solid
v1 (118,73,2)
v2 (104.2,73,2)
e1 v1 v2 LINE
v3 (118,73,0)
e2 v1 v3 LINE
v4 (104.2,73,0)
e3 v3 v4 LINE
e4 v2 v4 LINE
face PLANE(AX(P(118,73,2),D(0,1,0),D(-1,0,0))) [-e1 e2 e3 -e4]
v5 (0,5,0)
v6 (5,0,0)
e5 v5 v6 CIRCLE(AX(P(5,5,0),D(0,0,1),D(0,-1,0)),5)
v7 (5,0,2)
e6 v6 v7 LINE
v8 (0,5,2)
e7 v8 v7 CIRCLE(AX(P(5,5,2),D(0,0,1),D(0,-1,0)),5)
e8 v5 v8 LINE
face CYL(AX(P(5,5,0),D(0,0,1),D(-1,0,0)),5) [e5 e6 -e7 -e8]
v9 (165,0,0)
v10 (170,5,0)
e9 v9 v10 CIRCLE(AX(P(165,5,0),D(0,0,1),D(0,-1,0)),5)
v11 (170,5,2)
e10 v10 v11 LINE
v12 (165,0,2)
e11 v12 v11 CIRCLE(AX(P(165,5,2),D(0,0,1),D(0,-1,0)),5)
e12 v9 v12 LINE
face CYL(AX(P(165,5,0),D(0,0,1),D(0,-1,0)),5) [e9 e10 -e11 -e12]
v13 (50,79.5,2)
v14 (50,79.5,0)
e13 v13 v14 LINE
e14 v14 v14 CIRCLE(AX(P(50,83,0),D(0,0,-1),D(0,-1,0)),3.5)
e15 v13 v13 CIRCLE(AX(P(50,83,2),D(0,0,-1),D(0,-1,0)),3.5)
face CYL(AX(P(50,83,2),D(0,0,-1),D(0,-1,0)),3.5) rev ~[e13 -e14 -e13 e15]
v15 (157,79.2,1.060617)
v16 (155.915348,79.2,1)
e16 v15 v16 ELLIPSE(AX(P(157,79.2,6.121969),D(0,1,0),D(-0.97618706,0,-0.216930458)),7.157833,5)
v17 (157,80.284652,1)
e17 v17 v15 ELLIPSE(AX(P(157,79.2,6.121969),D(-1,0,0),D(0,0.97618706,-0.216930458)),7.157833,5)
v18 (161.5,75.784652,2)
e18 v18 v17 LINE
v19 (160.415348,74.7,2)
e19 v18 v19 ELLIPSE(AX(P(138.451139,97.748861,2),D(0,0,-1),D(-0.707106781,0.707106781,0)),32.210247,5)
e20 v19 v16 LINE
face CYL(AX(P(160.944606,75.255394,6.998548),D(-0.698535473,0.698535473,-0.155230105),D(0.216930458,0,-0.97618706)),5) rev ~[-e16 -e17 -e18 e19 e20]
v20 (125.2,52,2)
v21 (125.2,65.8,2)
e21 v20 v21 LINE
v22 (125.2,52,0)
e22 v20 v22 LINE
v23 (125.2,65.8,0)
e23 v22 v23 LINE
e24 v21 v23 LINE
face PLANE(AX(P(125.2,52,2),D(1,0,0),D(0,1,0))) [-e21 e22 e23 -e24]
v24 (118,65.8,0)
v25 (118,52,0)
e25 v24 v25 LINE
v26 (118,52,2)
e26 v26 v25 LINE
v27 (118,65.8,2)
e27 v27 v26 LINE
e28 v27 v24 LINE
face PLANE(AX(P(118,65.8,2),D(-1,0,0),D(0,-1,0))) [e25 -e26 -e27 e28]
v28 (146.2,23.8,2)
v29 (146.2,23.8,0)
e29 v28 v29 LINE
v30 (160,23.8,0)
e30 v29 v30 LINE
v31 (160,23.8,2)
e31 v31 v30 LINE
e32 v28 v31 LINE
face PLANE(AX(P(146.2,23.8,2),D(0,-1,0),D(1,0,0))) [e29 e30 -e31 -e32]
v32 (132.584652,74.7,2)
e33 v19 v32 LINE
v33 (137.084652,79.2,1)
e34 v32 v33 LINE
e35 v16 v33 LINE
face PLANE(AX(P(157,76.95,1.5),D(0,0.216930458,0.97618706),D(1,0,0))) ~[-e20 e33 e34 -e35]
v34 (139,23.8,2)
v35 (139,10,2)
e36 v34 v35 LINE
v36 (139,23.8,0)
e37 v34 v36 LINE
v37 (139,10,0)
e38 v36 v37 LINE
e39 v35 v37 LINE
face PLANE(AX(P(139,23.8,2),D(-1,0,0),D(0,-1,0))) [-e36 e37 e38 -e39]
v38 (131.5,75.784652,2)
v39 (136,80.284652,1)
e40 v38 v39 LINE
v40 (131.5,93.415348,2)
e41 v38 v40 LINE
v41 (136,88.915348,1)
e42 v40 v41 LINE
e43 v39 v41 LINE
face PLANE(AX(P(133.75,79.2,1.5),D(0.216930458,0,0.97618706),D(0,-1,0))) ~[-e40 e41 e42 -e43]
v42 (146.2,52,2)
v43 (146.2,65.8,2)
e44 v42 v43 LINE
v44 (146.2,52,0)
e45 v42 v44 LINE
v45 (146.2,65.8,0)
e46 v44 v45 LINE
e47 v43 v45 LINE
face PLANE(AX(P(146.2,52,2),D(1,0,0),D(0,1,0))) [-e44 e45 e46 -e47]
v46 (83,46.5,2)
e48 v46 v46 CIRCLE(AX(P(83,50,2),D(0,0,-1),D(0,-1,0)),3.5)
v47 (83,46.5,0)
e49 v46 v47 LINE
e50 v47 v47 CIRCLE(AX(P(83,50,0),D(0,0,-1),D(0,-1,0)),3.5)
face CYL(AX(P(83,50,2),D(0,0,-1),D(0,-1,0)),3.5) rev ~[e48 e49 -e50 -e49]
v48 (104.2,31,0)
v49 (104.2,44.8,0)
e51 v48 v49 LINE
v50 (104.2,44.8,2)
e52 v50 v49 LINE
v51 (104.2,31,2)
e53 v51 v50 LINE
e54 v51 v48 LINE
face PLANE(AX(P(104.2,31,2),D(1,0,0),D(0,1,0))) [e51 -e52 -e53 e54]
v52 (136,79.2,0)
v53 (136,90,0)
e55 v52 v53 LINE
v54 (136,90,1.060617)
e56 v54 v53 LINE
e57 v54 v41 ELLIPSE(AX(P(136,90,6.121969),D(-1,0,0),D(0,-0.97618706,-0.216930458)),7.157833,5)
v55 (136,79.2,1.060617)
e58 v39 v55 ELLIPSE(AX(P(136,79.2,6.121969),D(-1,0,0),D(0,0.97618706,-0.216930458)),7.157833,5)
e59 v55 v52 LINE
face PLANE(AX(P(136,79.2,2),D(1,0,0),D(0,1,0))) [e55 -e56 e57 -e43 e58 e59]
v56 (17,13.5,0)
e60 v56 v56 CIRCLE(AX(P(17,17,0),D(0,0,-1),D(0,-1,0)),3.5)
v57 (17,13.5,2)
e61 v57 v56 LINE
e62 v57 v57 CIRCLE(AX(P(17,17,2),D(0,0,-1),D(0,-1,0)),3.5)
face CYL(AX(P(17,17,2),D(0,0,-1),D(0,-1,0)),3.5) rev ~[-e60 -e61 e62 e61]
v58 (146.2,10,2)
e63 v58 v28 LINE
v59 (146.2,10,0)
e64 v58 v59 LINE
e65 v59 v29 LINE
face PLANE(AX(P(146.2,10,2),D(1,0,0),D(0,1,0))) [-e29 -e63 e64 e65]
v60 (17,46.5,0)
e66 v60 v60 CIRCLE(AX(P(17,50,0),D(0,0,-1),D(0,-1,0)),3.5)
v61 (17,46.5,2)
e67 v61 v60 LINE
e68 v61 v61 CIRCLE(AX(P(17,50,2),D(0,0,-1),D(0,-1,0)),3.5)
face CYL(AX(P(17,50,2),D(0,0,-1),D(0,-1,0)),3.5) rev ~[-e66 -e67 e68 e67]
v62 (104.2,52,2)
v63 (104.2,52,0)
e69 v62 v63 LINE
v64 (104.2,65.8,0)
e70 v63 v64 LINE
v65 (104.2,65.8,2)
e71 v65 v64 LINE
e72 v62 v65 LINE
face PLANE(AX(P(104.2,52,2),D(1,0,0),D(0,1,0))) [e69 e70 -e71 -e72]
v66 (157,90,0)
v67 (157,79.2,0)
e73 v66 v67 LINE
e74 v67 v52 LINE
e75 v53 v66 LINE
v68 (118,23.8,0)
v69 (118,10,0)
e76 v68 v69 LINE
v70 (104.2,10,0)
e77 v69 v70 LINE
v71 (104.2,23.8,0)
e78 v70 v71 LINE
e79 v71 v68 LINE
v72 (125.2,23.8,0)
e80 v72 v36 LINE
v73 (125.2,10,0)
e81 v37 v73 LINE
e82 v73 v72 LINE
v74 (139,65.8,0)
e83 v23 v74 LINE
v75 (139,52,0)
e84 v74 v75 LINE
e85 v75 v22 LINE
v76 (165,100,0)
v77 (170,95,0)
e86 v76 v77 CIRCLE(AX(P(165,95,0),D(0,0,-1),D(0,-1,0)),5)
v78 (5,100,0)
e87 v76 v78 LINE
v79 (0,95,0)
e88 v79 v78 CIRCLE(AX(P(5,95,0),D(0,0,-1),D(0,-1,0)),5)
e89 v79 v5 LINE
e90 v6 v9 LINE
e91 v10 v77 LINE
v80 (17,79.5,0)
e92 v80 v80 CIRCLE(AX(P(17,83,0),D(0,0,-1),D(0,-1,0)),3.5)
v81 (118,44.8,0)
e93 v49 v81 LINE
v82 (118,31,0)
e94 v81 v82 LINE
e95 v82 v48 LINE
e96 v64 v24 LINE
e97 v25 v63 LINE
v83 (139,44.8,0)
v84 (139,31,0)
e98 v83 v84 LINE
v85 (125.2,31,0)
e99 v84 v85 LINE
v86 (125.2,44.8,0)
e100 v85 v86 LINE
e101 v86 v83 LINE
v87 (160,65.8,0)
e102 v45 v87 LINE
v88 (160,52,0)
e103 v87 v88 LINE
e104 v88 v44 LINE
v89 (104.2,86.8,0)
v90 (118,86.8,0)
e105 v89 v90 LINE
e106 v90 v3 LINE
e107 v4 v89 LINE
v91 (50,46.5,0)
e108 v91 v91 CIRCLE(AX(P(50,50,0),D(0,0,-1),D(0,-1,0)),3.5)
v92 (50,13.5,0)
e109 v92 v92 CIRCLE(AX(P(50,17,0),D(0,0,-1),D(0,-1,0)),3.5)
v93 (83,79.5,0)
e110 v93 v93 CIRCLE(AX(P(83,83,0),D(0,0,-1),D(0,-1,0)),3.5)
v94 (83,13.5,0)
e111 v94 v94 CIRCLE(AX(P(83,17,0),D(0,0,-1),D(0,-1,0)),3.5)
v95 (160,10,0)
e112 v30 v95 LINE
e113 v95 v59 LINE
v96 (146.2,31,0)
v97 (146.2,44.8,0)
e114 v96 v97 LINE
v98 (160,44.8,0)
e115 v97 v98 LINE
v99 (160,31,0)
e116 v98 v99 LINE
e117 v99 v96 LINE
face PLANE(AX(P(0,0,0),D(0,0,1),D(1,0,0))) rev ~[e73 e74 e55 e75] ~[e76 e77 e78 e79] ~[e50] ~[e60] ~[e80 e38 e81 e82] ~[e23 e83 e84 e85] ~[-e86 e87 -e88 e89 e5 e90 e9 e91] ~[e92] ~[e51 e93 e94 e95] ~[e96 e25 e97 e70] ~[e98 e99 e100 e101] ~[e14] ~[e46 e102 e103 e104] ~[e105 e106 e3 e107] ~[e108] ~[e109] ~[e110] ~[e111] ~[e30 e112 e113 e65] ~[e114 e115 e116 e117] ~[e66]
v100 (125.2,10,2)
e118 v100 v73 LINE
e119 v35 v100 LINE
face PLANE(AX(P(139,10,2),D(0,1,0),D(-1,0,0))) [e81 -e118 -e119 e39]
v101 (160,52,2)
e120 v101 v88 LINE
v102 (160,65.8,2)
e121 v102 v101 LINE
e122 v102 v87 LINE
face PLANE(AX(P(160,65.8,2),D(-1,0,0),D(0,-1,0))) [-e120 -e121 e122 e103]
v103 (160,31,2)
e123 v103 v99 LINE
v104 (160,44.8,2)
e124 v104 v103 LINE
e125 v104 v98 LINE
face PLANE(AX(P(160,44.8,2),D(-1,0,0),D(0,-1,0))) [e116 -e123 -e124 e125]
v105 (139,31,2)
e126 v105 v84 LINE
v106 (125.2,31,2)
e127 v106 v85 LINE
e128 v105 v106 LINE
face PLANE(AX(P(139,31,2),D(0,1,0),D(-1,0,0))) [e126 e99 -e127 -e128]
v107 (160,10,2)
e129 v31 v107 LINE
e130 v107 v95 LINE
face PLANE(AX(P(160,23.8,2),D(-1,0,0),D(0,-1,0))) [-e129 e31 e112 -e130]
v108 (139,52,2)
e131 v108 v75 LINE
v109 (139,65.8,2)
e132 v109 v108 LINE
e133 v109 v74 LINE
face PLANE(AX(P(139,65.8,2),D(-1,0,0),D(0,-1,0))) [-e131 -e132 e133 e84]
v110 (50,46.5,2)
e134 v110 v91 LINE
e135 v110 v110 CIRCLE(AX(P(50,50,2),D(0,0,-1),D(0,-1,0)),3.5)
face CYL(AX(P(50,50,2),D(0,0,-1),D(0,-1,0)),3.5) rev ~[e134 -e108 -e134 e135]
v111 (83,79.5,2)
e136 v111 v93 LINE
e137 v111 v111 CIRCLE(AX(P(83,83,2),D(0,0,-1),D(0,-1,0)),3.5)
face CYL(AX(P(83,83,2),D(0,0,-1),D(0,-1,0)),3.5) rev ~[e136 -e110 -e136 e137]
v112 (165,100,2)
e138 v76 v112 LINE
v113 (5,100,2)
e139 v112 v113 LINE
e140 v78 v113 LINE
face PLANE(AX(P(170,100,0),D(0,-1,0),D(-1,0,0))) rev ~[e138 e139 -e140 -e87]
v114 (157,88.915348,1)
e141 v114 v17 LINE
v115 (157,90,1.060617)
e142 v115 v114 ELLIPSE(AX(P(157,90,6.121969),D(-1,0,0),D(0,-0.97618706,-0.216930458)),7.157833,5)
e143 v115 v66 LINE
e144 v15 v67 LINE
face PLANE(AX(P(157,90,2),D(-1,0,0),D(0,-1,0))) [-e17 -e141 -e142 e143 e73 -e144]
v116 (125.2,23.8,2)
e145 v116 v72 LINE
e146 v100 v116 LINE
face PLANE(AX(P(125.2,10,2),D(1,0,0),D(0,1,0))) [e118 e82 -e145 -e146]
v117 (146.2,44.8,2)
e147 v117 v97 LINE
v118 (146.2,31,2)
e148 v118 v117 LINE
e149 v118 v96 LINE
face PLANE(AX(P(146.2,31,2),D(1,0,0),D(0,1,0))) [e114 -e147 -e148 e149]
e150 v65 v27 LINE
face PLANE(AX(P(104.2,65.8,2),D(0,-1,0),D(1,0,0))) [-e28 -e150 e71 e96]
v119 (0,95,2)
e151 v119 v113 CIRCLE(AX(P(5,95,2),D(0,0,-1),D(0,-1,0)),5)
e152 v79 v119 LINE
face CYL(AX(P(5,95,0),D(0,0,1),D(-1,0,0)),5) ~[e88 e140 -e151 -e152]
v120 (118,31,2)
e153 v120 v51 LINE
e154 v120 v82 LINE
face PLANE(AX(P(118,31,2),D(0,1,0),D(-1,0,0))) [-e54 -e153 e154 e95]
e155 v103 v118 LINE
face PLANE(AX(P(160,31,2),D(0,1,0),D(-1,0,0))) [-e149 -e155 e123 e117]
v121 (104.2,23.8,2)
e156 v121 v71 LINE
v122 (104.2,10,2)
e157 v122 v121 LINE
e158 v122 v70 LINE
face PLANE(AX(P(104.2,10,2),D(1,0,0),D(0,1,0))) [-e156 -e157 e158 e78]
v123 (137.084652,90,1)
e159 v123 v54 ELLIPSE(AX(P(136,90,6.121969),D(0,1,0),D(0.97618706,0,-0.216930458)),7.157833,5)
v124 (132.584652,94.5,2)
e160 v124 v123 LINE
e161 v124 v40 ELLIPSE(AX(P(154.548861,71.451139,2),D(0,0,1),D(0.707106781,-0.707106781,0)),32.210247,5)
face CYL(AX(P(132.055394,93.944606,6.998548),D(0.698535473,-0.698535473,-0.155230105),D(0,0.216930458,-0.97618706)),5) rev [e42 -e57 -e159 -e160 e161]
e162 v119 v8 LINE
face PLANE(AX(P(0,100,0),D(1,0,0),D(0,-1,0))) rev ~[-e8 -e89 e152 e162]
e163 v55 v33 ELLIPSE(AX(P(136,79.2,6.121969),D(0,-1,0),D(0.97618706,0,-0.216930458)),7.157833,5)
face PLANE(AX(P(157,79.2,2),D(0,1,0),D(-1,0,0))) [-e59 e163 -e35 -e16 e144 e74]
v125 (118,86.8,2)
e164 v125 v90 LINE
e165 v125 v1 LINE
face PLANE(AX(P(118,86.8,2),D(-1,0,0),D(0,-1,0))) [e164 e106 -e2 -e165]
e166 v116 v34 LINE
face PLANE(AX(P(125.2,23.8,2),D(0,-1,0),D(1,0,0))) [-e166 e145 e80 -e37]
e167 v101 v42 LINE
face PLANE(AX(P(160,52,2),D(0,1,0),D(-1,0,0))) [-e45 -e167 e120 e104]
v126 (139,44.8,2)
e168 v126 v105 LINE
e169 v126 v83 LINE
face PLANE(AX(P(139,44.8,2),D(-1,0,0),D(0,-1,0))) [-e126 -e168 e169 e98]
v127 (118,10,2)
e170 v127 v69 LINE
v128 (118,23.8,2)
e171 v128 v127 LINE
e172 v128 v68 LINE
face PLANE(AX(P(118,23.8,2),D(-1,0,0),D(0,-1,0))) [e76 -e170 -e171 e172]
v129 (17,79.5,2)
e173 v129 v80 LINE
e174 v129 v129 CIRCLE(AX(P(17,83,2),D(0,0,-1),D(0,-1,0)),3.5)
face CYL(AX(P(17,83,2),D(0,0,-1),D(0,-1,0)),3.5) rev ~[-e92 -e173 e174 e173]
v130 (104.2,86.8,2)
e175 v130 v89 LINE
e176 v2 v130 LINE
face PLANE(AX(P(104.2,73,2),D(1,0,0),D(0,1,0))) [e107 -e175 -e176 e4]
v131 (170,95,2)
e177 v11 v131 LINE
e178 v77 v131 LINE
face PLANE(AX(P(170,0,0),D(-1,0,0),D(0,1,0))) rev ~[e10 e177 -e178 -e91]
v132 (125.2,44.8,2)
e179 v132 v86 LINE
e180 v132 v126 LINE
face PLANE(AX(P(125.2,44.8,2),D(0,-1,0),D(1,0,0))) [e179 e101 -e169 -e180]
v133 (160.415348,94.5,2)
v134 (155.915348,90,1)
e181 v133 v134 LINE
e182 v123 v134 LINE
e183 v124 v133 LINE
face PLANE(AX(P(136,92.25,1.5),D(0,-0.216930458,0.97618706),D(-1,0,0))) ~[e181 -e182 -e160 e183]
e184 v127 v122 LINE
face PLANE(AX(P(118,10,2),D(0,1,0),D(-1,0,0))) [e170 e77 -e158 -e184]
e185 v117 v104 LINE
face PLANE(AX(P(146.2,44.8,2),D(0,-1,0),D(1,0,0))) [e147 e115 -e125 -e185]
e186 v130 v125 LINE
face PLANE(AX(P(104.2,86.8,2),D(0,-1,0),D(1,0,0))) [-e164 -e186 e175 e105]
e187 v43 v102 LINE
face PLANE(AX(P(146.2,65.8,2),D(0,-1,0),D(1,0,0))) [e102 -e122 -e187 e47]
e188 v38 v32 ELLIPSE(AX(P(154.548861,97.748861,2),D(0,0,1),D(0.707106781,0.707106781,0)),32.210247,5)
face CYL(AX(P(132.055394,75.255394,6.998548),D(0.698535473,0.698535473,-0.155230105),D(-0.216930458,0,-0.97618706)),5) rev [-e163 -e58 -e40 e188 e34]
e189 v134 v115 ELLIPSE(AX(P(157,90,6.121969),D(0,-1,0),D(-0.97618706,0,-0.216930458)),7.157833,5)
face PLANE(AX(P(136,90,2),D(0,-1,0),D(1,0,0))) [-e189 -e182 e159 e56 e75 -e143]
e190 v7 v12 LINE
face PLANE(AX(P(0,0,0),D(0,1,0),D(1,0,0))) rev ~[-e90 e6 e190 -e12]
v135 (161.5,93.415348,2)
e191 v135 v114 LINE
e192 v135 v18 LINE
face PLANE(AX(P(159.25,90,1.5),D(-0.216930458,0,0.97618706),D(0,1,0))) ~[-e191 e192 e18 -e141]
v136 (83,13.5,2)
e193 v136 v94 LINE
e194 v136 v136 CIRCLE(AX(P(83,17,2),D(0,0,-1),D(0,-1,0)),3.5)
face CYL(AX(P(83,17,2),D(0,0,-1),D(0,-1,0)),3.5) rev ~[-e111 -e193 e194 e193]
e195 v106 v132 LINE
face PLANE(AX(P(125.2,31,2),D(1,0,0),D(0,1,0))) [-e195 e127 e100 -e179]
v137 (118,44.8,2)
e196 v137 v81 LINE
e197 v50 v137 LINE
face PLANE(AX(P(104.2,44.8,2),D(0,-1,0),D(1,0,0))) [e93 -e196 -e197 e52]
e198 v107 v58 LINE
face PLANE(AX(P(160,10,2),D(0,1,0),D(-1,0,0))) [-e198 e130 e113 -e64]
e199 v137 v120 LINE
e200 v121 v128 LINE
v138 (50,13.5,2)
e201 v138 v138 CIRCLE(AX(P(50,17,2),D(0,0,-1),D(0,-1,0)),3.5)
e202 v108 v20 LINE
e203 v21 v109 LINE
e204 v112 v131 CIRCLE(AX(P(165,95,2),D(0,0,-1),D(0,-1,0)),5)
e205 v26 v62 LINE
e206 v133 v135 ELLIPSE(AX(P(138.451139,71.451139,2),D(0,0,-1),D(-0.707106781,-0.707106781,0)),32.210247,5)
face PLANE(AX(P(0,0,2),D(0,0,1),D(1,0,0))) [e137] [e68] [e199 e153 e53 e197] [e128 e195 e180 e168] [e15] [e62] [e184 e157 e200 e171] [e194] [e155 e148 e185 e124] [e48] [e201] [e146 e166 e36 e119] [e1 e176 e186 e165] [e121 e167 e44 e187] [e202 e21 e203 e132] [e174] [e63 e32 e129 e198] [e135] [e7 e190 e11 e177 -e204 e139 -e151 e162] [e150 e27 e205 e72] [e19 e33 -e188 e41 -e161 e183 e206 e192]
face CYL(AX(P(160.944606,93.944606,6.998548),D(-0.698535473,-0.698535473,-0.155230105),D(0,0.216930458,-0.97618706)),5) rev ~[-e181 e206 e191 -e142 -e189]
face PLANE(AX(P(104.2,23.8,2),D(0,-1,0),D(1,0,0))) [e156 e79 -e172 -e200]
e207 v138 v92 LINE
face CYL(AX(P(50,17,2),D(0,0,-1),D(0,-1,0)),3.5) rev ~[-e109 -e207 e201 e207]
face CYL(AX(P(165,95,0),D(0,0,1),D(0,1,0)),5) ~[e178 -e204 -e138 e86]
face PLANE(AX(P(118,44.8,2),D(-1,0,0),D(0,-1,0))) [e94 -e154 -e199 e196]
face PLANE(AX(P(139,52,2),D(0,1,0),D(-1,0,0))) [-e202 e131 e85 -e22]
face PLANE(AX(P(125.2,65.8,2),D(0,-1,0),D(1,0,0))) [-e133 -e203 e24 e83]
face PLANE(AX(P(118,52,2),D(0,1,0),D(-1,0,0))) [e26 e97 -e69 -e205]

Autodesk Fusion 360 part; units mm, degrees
sketch "Sketch1" plane through (0, 0, 0) normal (0, 0, 1) x (1, 0, 0)
  line L0 (0, 0) -> (170, 0)
  line L1 (170, 0) -> (170, 100)
  line L2 (170, 100) -> (0, 100)
  line L3 (0, 100) -> (0, 0)
  dimension "d1" = 170
  dimension "d2" = 100
extrude "Extrude1" add sketch "Sketch1" along normal blind 2 makes body 1
sketch "Sketch2" plane through (0, 0, 2) normal (0, 0, 1) x (-1, 0, 0)
  line L0 (0, -100) -> (0, 0)
  line L1 (0, 0) -> (-170, 0)
  line L2 (-170, 0) -> (-170, -100)
  line L3 (-170, -100) -> (0, -100)
  circle A0 centre (-17, -83) radius 3.5
  circle A1 centre (-50, -83) radius 3.5
  circle A2 centre (-83, -83) radius 3.5
  circle A3 centre (-17, -50) radius 3.5
  circle A4 centre (-50, -50) radius 3.5
  circle A5 centre (-83, -50) radius 3.5
  circle A6 centre (-17, -17) radius 3.5
  circle A7 centre (-50, -17) radius 3.5
  circle A8 centre (-83, -17) radius 3.5
  line L4 (-146.2, -23.8) -> (-160, -23.8)
  line L5 (-160, -23.8) -> (-160, -10)
  line L6 (-160, -10) -> (-146.2, -10)
  line L7 (-146.2, -10) -> (-146.2, -23.8)
  dimension "d5" = 7
  dimension "d9" = -66
  dimension "d10" = 66
  dimension "d11" = 100
  dimension "d12" = 33
  dimension "d13" = 17
  dimension "d14" = 17
  dimension "d15" = 17
  dimension "d16" = 13.8
  dimension "d17" = 13.8
  dimension "d18" = 10
  dimension "d19" = 10
sketch "Sketch3" plane through (0, 0, 2) normal (0, 0, 1) x (-1, 0, 0)
hole "Hole1" at (17, 83, 2) at (50, 83, 2) at (83, 83, 2) at (83, 50, 2) at (83, 17, 2) at (50, 17, 2) at (17, 17, 2) at (17, 50, 2) at (50, 50, 2) direction (0, 0, -1) diameter 7 depth 2 tip angle 180 bodies 1
sketch "Sketch4" plane through (0, 0, 2) normal (0, 0, 1) x (-1, 0, 0)
  line L0 (0, -100) -> (0, 0)
  line L1 (0, 0) -> (-170, 0)
  line L2 (-170, 0) -> (-170, -100)
  line L3 (-170, -100) -> (0, -100)
  circle A0 centre (-50, -50) radius 3.5
  circle A1 centre (-17, -17) radius 3.5
  circle A2 centre (-83, -17) radius 3.5
  circle A3 centre (-83, -83) radius 3.5
  circle A4 centre (-17, -83) radius 3.5
  circle A5 centre (-50, -83) radius 3.5
  circle A6 centre (-83, -50) radius 3.5
  circle A7 centre (-50, -17) radius 3.5
  circle A8 centre (-17, -50) radius 3.5
  line L4 (-160, -10) -> (-146.2, -10)
  line L5 (-146.2, -10) -> (-146.2, -23.8)
  line L6 (-146.2, -23.8) -> (-160, -23.8)
  line L7 (-160, -23.8) -> (-160, -10)
  dimension "d23" = 13.8
  dimension "d24" = 13.8
  dimension "d25" = 10
  dimension "d26" = 10
sketch "Sketch5" plane through (0, 0, 2) normal (0, 0, 1) x (-1, 0, 0)
extrude "Extrude2" cut sketch "Sketch4" against normal blind 2 contours L4 L5 L6 L7 bodies 1
pattern_linear "R-Pattern1" count 3 spacing 21 along (-1, 0, 0) count 3 spacing 21 along (0, 1, 0) of "Extrude2"
sketch "Sketch6" plane through (0, 0, 2) normal (0, 0, 1) x (-1, 0, 0)
  line L0 (-146.2, -10) -> (-146.2, -23.8)
  line L1 (-146.2, -23.8) -> (-160, -23.8)
  line L2 (-160, -23.8) -> (-160, -10)
  line L3 (-160, -10) -> (-146.2, -10)
  line L4 (0, -100) -> (0, 0)
  line L5 (0, 0) -> (-170, 0)
  line L6 (-170, 0) -> (-170, -100)
  line L7 (-170, -100) -> (0, -100)
  circle A0 centre (-50, -50) radius 3.5
  circle A1 centre (-17, -17) radius 3.5
  circle A2 centre (-83, -17) radius 3.5
  circle A3 centre (-83, -83) radius 3.5
  circle A4 centre (-17, -83) radius 3.5
  circle A5 centre (-50, -83) radius 3.5
  circle A6 centre (-83, -50) radius 3.5
  circle A7 centre (-50, -17) radius 3.5
  circle A8 centre (-17, -50) radius 3.5
  line L8 (-125.2, -10) -> (-125.2, -23.8)
  line L9 (-125.2, -23.8) -> (-139, -23.8)
  line L10 (-139, -23.8) -> (-139, -10)
  line L11 (-139, -10) -> (-125.2, -10)
  line L12 (-104.2, -10) -> (-104.2, -23.8)
  line L13 (-104.2, -23.8) -> (-118, -23.8)
  line L14 (-118, -23.8) -> (-118, -10)
  line L15 (-118, -10) -> (-104.2, -10)
  line L16 (-146.2, -31) -> (-146.2, -44.8)
  line L17 (-146.2, -44.8) -> (-160, -44.8)
  line L18 (-160, -44.8) -> (-160, -31)
  line L19 (-160, -31) -> (-146.2, -31)
  line L20 (-125.2, -31) -> (-125.2, -44.8)
  line L21 (-125.2, -44.8) -> (-139, -44.8)
  line L22 (-139, -44.8) -> (-139, -31)
  line L23 (-139, -31) -> (-125.2, -31)
  line L24 (-104.2, -31) -> (-104.2, -44.8)
  line L25 (-104.2, -44.8) -> (-118, -44.8)
  line L26 (-118, -44.8) -> (-118, -31)
  line L27 (-118, -31) -> (-104.2, -31)
  line L28 (-146.2, -52) -> (-146.2, -65.8)
  line L29 (-146.2, -65.8) -> (-160, -65.8)
  line L30 (-160, -65.8) -> (-160, -52)
  line L31 (-160, -52) -> (-146.2, -52)
  line L32 (-125.2, -52) -> (-125.2, -65.8)
  line L33 (-125.2, -65.8) -> (-139, -65.8)
  line L34 (-139, -65.8) -> (-139, -52)
  line L35 (-139, -52) -> (-125.2, -52)
  line L36 (-104.2, -52) -> (-104.2, -65.8)
  line L37 (-104.2, -65.8) -> (-118, -65.8)
  line L38 (-118, -65.8) -> (-118, -52)
  line L39 (-118, -52) -> (-104.2, -52)
  circle A9 centre (-83, -17) radius 10.5
  dimension "d33" = 21
sketch "Sketch7" plane through (0, 0, 2) normal (0, 0, 1) x (-1, 0, 0)
  line L0 (-133, -96.2) -> (-160, -96.2)
  line L1 (-160, -96.2) -> (-160, -69.2)
  line L2 (-160, -69.2) -> (-133, -69.2)
  line L3 (-133, -69.2) -> (-133, -96.2)
  line L4 (-170, -100) -> (0, -100)
  line L5 (-160, -10) -> (-146.2, -10)
  line L6 (0, 0) -> (-170, 0)
  line L7 (-136, -90) -> (-157, -90)
  line L8 (-157, -90) -> (-157, -79.2)
  line L9 (-157, -79.2) -> (-136, -79.2)
  line L10 (-136, -79.2) -> (-136, -90)
  line L11 (-170, 0) -> (-170, -100)
  line L12 (-146.2, -65.8) -> (-160, -65.8)
  dimension "d36" = 27
  dimension "d37" = 27
  dimension "d38" = 3.8
  dimension "d39" = 10
  dimension "d40" = 3
  dimension "d42" = 10.8
  dimension "d43" = 21
  dimension "d53" = 10
  dimension "d55" = 10
  dimension "d67" = 6.2
  dimension "d68" = 10
  dimension "d69" = 3.4
extrude "Extrude3" cut sketch "Sketch7" against normal blind 2 contours L7 L8 L9 L10 bodies 1
chamfer "Chamfer1" distance 4.5 distance2 1 4 edges at (146.5, 90, 2) (136, 84.6, 2) (146.5, 79.2, 2) (157, 84.6, 2) measured on face at (108.8707, 79.8596, 2) measured on face at (108.8707, 79.8596, 2) measured on face at (108.8707, 79.8596, 2) measured on face at (108.8707, 79.8596, 2) on bodies 1
sketch "Sketch8" plane through (0, 0, 2) normal (0, 0, 1) x (-1, 0, 0)
  line L0 (-104.2, -86.8) -> (-118, -86.8)
  line L1 (-118, -86.8) -> (-118, -73)
  line L2 (-118, -73) -> (-104.2, -73)
  line L3 (-104.2, -73) -> (-104.2, -86.8)
  line L4 (-118, -52) -> (-104.2, -52)
  line L5 (-125.2, -52) -> (-125.2, -65.8)
  point P0 (-104.2, -10)
  point P1 (-125.2, -10)
  dimension "d48" = 21
  dimension "d49" = 21
  dimension "d50" = 21
  dimension "d51" = 13.8
  dimension "d52" = 13.8
extrude "Extrude4" cut sketch "Sketch8" against normal blind 2 bodies 1
sketch "Sketch9" plane through (0, 0, 2) normal (0, 0, 1) x (-1, 0, 0)
  line L0 (-125.2, -65.8) -> (-139, -65.8)
  line L1 (-118, -73) -> (-104.2, -73)
  line L2 (-104.2, -65.8) -> (-118, -65.8)
  dimension "d61" = 7.2
fillet "Fillet1" radius 5 4 edges at (170, 0, 1) (170, 100, 1) (0, 0, 1) (0, 100, 1) on bodies 1
fillet "Fillet2" radius 5 4 edges at (133.75, 92.25, 1.5) (133.75, 76.95, 1.5) (159.25, 92.25, 1.5) (159.25, 76.95, 1.5) on bodies 1
sketch "Sketch10" plane through (0, 0, 2) normal (0, 0, 1) x (-1, 0, 0)
  line L0 (-5, 0) -> (-165, 0)
  line L1 (-170, -5) -> (-170, -95)
  line L2 (-165, -100) -> (-5, -100)
  line L3 (0, -95) -> (0, -5)
  line L4 (-3, -102) -> (-167, -102)
  line L5 (-172, -97) -> (-172, -3)
  line L6 (-167, 2) -> (-3, 2)
  line L7 (2, -3) -> (2, -97)
  arc A0 (-5, -100) -> (0, -95) centre (-5, -95) ccw
  arc A1 (-170, -95) -> (-165, -100) centre (-165, -95) ccw
  arc A2 (-165, 0) -> (-170, -5) centre (-165, -5) ccw
  arc A3 (0, -5) -> (-5, 0) centre (-5, -5) ccw
  arc A4 (2, -3) -> (-3, 2) centre (-3, -3) ccw
  arc A5 (-3, -102) -> (2, -97) centre (-3, -97) ccw
  arc A6 (-172, -97) -> (-167, -102) centre (-167, -97) ccw
  arc A7 (-167, 2) -> (-172, -3) centre (-167, -3) ccw
  dimension "d70" = 2
  dimension "d71" = 2
  dimension "d72" = 2
  dimension "d73" = 2
  dimension "d74" = 5
extrude "Extrude5" add sketch "Sketch10" along normal blind 50 separate body makes body 2
move_face "OffsetFaces1" offset 2 1 faces at (58.3333, -1.3333, 2) on bodies 2
sketch "Sketch11" plane through (0, 100, 0) normal (0, -1, 0) x (1, 0, 0)
  line L0 (5, 0) -> (165, 0)
  line L1 (165, 0) -> (165, 52)
  line L2 (165, 52) -> (5, 52)
  line L3 (5, 52) -> (5, 0)
  line L4 (165, 0.1269) -> (161.7551, 0.1269)
  line L5 (161.7551, 0.1269) -> (161.7551, 2.1269)
  line L6 (161.7551, 2.1269) -> (165, 2.1269)
  line L7 (165, 2.1269) -> (165, 0.1269)
  line L8 (161.7551, 2.1269) -> (156.7551, 2.1269)
  line L9 (156.7551, 2.1269) -> (156.7551, 4.1269)
  line L10 (156.7551, 4.1269) -> (161.7551, 4.1269)
  line L11 (161.7551, 4.1269) -> (161.7551, 2.1269)
  dimension "d78" = 2
  dimension "d79" = 5
  dimension "d80" = 2
  dimension "d81" = 160
hidden bodies 2
